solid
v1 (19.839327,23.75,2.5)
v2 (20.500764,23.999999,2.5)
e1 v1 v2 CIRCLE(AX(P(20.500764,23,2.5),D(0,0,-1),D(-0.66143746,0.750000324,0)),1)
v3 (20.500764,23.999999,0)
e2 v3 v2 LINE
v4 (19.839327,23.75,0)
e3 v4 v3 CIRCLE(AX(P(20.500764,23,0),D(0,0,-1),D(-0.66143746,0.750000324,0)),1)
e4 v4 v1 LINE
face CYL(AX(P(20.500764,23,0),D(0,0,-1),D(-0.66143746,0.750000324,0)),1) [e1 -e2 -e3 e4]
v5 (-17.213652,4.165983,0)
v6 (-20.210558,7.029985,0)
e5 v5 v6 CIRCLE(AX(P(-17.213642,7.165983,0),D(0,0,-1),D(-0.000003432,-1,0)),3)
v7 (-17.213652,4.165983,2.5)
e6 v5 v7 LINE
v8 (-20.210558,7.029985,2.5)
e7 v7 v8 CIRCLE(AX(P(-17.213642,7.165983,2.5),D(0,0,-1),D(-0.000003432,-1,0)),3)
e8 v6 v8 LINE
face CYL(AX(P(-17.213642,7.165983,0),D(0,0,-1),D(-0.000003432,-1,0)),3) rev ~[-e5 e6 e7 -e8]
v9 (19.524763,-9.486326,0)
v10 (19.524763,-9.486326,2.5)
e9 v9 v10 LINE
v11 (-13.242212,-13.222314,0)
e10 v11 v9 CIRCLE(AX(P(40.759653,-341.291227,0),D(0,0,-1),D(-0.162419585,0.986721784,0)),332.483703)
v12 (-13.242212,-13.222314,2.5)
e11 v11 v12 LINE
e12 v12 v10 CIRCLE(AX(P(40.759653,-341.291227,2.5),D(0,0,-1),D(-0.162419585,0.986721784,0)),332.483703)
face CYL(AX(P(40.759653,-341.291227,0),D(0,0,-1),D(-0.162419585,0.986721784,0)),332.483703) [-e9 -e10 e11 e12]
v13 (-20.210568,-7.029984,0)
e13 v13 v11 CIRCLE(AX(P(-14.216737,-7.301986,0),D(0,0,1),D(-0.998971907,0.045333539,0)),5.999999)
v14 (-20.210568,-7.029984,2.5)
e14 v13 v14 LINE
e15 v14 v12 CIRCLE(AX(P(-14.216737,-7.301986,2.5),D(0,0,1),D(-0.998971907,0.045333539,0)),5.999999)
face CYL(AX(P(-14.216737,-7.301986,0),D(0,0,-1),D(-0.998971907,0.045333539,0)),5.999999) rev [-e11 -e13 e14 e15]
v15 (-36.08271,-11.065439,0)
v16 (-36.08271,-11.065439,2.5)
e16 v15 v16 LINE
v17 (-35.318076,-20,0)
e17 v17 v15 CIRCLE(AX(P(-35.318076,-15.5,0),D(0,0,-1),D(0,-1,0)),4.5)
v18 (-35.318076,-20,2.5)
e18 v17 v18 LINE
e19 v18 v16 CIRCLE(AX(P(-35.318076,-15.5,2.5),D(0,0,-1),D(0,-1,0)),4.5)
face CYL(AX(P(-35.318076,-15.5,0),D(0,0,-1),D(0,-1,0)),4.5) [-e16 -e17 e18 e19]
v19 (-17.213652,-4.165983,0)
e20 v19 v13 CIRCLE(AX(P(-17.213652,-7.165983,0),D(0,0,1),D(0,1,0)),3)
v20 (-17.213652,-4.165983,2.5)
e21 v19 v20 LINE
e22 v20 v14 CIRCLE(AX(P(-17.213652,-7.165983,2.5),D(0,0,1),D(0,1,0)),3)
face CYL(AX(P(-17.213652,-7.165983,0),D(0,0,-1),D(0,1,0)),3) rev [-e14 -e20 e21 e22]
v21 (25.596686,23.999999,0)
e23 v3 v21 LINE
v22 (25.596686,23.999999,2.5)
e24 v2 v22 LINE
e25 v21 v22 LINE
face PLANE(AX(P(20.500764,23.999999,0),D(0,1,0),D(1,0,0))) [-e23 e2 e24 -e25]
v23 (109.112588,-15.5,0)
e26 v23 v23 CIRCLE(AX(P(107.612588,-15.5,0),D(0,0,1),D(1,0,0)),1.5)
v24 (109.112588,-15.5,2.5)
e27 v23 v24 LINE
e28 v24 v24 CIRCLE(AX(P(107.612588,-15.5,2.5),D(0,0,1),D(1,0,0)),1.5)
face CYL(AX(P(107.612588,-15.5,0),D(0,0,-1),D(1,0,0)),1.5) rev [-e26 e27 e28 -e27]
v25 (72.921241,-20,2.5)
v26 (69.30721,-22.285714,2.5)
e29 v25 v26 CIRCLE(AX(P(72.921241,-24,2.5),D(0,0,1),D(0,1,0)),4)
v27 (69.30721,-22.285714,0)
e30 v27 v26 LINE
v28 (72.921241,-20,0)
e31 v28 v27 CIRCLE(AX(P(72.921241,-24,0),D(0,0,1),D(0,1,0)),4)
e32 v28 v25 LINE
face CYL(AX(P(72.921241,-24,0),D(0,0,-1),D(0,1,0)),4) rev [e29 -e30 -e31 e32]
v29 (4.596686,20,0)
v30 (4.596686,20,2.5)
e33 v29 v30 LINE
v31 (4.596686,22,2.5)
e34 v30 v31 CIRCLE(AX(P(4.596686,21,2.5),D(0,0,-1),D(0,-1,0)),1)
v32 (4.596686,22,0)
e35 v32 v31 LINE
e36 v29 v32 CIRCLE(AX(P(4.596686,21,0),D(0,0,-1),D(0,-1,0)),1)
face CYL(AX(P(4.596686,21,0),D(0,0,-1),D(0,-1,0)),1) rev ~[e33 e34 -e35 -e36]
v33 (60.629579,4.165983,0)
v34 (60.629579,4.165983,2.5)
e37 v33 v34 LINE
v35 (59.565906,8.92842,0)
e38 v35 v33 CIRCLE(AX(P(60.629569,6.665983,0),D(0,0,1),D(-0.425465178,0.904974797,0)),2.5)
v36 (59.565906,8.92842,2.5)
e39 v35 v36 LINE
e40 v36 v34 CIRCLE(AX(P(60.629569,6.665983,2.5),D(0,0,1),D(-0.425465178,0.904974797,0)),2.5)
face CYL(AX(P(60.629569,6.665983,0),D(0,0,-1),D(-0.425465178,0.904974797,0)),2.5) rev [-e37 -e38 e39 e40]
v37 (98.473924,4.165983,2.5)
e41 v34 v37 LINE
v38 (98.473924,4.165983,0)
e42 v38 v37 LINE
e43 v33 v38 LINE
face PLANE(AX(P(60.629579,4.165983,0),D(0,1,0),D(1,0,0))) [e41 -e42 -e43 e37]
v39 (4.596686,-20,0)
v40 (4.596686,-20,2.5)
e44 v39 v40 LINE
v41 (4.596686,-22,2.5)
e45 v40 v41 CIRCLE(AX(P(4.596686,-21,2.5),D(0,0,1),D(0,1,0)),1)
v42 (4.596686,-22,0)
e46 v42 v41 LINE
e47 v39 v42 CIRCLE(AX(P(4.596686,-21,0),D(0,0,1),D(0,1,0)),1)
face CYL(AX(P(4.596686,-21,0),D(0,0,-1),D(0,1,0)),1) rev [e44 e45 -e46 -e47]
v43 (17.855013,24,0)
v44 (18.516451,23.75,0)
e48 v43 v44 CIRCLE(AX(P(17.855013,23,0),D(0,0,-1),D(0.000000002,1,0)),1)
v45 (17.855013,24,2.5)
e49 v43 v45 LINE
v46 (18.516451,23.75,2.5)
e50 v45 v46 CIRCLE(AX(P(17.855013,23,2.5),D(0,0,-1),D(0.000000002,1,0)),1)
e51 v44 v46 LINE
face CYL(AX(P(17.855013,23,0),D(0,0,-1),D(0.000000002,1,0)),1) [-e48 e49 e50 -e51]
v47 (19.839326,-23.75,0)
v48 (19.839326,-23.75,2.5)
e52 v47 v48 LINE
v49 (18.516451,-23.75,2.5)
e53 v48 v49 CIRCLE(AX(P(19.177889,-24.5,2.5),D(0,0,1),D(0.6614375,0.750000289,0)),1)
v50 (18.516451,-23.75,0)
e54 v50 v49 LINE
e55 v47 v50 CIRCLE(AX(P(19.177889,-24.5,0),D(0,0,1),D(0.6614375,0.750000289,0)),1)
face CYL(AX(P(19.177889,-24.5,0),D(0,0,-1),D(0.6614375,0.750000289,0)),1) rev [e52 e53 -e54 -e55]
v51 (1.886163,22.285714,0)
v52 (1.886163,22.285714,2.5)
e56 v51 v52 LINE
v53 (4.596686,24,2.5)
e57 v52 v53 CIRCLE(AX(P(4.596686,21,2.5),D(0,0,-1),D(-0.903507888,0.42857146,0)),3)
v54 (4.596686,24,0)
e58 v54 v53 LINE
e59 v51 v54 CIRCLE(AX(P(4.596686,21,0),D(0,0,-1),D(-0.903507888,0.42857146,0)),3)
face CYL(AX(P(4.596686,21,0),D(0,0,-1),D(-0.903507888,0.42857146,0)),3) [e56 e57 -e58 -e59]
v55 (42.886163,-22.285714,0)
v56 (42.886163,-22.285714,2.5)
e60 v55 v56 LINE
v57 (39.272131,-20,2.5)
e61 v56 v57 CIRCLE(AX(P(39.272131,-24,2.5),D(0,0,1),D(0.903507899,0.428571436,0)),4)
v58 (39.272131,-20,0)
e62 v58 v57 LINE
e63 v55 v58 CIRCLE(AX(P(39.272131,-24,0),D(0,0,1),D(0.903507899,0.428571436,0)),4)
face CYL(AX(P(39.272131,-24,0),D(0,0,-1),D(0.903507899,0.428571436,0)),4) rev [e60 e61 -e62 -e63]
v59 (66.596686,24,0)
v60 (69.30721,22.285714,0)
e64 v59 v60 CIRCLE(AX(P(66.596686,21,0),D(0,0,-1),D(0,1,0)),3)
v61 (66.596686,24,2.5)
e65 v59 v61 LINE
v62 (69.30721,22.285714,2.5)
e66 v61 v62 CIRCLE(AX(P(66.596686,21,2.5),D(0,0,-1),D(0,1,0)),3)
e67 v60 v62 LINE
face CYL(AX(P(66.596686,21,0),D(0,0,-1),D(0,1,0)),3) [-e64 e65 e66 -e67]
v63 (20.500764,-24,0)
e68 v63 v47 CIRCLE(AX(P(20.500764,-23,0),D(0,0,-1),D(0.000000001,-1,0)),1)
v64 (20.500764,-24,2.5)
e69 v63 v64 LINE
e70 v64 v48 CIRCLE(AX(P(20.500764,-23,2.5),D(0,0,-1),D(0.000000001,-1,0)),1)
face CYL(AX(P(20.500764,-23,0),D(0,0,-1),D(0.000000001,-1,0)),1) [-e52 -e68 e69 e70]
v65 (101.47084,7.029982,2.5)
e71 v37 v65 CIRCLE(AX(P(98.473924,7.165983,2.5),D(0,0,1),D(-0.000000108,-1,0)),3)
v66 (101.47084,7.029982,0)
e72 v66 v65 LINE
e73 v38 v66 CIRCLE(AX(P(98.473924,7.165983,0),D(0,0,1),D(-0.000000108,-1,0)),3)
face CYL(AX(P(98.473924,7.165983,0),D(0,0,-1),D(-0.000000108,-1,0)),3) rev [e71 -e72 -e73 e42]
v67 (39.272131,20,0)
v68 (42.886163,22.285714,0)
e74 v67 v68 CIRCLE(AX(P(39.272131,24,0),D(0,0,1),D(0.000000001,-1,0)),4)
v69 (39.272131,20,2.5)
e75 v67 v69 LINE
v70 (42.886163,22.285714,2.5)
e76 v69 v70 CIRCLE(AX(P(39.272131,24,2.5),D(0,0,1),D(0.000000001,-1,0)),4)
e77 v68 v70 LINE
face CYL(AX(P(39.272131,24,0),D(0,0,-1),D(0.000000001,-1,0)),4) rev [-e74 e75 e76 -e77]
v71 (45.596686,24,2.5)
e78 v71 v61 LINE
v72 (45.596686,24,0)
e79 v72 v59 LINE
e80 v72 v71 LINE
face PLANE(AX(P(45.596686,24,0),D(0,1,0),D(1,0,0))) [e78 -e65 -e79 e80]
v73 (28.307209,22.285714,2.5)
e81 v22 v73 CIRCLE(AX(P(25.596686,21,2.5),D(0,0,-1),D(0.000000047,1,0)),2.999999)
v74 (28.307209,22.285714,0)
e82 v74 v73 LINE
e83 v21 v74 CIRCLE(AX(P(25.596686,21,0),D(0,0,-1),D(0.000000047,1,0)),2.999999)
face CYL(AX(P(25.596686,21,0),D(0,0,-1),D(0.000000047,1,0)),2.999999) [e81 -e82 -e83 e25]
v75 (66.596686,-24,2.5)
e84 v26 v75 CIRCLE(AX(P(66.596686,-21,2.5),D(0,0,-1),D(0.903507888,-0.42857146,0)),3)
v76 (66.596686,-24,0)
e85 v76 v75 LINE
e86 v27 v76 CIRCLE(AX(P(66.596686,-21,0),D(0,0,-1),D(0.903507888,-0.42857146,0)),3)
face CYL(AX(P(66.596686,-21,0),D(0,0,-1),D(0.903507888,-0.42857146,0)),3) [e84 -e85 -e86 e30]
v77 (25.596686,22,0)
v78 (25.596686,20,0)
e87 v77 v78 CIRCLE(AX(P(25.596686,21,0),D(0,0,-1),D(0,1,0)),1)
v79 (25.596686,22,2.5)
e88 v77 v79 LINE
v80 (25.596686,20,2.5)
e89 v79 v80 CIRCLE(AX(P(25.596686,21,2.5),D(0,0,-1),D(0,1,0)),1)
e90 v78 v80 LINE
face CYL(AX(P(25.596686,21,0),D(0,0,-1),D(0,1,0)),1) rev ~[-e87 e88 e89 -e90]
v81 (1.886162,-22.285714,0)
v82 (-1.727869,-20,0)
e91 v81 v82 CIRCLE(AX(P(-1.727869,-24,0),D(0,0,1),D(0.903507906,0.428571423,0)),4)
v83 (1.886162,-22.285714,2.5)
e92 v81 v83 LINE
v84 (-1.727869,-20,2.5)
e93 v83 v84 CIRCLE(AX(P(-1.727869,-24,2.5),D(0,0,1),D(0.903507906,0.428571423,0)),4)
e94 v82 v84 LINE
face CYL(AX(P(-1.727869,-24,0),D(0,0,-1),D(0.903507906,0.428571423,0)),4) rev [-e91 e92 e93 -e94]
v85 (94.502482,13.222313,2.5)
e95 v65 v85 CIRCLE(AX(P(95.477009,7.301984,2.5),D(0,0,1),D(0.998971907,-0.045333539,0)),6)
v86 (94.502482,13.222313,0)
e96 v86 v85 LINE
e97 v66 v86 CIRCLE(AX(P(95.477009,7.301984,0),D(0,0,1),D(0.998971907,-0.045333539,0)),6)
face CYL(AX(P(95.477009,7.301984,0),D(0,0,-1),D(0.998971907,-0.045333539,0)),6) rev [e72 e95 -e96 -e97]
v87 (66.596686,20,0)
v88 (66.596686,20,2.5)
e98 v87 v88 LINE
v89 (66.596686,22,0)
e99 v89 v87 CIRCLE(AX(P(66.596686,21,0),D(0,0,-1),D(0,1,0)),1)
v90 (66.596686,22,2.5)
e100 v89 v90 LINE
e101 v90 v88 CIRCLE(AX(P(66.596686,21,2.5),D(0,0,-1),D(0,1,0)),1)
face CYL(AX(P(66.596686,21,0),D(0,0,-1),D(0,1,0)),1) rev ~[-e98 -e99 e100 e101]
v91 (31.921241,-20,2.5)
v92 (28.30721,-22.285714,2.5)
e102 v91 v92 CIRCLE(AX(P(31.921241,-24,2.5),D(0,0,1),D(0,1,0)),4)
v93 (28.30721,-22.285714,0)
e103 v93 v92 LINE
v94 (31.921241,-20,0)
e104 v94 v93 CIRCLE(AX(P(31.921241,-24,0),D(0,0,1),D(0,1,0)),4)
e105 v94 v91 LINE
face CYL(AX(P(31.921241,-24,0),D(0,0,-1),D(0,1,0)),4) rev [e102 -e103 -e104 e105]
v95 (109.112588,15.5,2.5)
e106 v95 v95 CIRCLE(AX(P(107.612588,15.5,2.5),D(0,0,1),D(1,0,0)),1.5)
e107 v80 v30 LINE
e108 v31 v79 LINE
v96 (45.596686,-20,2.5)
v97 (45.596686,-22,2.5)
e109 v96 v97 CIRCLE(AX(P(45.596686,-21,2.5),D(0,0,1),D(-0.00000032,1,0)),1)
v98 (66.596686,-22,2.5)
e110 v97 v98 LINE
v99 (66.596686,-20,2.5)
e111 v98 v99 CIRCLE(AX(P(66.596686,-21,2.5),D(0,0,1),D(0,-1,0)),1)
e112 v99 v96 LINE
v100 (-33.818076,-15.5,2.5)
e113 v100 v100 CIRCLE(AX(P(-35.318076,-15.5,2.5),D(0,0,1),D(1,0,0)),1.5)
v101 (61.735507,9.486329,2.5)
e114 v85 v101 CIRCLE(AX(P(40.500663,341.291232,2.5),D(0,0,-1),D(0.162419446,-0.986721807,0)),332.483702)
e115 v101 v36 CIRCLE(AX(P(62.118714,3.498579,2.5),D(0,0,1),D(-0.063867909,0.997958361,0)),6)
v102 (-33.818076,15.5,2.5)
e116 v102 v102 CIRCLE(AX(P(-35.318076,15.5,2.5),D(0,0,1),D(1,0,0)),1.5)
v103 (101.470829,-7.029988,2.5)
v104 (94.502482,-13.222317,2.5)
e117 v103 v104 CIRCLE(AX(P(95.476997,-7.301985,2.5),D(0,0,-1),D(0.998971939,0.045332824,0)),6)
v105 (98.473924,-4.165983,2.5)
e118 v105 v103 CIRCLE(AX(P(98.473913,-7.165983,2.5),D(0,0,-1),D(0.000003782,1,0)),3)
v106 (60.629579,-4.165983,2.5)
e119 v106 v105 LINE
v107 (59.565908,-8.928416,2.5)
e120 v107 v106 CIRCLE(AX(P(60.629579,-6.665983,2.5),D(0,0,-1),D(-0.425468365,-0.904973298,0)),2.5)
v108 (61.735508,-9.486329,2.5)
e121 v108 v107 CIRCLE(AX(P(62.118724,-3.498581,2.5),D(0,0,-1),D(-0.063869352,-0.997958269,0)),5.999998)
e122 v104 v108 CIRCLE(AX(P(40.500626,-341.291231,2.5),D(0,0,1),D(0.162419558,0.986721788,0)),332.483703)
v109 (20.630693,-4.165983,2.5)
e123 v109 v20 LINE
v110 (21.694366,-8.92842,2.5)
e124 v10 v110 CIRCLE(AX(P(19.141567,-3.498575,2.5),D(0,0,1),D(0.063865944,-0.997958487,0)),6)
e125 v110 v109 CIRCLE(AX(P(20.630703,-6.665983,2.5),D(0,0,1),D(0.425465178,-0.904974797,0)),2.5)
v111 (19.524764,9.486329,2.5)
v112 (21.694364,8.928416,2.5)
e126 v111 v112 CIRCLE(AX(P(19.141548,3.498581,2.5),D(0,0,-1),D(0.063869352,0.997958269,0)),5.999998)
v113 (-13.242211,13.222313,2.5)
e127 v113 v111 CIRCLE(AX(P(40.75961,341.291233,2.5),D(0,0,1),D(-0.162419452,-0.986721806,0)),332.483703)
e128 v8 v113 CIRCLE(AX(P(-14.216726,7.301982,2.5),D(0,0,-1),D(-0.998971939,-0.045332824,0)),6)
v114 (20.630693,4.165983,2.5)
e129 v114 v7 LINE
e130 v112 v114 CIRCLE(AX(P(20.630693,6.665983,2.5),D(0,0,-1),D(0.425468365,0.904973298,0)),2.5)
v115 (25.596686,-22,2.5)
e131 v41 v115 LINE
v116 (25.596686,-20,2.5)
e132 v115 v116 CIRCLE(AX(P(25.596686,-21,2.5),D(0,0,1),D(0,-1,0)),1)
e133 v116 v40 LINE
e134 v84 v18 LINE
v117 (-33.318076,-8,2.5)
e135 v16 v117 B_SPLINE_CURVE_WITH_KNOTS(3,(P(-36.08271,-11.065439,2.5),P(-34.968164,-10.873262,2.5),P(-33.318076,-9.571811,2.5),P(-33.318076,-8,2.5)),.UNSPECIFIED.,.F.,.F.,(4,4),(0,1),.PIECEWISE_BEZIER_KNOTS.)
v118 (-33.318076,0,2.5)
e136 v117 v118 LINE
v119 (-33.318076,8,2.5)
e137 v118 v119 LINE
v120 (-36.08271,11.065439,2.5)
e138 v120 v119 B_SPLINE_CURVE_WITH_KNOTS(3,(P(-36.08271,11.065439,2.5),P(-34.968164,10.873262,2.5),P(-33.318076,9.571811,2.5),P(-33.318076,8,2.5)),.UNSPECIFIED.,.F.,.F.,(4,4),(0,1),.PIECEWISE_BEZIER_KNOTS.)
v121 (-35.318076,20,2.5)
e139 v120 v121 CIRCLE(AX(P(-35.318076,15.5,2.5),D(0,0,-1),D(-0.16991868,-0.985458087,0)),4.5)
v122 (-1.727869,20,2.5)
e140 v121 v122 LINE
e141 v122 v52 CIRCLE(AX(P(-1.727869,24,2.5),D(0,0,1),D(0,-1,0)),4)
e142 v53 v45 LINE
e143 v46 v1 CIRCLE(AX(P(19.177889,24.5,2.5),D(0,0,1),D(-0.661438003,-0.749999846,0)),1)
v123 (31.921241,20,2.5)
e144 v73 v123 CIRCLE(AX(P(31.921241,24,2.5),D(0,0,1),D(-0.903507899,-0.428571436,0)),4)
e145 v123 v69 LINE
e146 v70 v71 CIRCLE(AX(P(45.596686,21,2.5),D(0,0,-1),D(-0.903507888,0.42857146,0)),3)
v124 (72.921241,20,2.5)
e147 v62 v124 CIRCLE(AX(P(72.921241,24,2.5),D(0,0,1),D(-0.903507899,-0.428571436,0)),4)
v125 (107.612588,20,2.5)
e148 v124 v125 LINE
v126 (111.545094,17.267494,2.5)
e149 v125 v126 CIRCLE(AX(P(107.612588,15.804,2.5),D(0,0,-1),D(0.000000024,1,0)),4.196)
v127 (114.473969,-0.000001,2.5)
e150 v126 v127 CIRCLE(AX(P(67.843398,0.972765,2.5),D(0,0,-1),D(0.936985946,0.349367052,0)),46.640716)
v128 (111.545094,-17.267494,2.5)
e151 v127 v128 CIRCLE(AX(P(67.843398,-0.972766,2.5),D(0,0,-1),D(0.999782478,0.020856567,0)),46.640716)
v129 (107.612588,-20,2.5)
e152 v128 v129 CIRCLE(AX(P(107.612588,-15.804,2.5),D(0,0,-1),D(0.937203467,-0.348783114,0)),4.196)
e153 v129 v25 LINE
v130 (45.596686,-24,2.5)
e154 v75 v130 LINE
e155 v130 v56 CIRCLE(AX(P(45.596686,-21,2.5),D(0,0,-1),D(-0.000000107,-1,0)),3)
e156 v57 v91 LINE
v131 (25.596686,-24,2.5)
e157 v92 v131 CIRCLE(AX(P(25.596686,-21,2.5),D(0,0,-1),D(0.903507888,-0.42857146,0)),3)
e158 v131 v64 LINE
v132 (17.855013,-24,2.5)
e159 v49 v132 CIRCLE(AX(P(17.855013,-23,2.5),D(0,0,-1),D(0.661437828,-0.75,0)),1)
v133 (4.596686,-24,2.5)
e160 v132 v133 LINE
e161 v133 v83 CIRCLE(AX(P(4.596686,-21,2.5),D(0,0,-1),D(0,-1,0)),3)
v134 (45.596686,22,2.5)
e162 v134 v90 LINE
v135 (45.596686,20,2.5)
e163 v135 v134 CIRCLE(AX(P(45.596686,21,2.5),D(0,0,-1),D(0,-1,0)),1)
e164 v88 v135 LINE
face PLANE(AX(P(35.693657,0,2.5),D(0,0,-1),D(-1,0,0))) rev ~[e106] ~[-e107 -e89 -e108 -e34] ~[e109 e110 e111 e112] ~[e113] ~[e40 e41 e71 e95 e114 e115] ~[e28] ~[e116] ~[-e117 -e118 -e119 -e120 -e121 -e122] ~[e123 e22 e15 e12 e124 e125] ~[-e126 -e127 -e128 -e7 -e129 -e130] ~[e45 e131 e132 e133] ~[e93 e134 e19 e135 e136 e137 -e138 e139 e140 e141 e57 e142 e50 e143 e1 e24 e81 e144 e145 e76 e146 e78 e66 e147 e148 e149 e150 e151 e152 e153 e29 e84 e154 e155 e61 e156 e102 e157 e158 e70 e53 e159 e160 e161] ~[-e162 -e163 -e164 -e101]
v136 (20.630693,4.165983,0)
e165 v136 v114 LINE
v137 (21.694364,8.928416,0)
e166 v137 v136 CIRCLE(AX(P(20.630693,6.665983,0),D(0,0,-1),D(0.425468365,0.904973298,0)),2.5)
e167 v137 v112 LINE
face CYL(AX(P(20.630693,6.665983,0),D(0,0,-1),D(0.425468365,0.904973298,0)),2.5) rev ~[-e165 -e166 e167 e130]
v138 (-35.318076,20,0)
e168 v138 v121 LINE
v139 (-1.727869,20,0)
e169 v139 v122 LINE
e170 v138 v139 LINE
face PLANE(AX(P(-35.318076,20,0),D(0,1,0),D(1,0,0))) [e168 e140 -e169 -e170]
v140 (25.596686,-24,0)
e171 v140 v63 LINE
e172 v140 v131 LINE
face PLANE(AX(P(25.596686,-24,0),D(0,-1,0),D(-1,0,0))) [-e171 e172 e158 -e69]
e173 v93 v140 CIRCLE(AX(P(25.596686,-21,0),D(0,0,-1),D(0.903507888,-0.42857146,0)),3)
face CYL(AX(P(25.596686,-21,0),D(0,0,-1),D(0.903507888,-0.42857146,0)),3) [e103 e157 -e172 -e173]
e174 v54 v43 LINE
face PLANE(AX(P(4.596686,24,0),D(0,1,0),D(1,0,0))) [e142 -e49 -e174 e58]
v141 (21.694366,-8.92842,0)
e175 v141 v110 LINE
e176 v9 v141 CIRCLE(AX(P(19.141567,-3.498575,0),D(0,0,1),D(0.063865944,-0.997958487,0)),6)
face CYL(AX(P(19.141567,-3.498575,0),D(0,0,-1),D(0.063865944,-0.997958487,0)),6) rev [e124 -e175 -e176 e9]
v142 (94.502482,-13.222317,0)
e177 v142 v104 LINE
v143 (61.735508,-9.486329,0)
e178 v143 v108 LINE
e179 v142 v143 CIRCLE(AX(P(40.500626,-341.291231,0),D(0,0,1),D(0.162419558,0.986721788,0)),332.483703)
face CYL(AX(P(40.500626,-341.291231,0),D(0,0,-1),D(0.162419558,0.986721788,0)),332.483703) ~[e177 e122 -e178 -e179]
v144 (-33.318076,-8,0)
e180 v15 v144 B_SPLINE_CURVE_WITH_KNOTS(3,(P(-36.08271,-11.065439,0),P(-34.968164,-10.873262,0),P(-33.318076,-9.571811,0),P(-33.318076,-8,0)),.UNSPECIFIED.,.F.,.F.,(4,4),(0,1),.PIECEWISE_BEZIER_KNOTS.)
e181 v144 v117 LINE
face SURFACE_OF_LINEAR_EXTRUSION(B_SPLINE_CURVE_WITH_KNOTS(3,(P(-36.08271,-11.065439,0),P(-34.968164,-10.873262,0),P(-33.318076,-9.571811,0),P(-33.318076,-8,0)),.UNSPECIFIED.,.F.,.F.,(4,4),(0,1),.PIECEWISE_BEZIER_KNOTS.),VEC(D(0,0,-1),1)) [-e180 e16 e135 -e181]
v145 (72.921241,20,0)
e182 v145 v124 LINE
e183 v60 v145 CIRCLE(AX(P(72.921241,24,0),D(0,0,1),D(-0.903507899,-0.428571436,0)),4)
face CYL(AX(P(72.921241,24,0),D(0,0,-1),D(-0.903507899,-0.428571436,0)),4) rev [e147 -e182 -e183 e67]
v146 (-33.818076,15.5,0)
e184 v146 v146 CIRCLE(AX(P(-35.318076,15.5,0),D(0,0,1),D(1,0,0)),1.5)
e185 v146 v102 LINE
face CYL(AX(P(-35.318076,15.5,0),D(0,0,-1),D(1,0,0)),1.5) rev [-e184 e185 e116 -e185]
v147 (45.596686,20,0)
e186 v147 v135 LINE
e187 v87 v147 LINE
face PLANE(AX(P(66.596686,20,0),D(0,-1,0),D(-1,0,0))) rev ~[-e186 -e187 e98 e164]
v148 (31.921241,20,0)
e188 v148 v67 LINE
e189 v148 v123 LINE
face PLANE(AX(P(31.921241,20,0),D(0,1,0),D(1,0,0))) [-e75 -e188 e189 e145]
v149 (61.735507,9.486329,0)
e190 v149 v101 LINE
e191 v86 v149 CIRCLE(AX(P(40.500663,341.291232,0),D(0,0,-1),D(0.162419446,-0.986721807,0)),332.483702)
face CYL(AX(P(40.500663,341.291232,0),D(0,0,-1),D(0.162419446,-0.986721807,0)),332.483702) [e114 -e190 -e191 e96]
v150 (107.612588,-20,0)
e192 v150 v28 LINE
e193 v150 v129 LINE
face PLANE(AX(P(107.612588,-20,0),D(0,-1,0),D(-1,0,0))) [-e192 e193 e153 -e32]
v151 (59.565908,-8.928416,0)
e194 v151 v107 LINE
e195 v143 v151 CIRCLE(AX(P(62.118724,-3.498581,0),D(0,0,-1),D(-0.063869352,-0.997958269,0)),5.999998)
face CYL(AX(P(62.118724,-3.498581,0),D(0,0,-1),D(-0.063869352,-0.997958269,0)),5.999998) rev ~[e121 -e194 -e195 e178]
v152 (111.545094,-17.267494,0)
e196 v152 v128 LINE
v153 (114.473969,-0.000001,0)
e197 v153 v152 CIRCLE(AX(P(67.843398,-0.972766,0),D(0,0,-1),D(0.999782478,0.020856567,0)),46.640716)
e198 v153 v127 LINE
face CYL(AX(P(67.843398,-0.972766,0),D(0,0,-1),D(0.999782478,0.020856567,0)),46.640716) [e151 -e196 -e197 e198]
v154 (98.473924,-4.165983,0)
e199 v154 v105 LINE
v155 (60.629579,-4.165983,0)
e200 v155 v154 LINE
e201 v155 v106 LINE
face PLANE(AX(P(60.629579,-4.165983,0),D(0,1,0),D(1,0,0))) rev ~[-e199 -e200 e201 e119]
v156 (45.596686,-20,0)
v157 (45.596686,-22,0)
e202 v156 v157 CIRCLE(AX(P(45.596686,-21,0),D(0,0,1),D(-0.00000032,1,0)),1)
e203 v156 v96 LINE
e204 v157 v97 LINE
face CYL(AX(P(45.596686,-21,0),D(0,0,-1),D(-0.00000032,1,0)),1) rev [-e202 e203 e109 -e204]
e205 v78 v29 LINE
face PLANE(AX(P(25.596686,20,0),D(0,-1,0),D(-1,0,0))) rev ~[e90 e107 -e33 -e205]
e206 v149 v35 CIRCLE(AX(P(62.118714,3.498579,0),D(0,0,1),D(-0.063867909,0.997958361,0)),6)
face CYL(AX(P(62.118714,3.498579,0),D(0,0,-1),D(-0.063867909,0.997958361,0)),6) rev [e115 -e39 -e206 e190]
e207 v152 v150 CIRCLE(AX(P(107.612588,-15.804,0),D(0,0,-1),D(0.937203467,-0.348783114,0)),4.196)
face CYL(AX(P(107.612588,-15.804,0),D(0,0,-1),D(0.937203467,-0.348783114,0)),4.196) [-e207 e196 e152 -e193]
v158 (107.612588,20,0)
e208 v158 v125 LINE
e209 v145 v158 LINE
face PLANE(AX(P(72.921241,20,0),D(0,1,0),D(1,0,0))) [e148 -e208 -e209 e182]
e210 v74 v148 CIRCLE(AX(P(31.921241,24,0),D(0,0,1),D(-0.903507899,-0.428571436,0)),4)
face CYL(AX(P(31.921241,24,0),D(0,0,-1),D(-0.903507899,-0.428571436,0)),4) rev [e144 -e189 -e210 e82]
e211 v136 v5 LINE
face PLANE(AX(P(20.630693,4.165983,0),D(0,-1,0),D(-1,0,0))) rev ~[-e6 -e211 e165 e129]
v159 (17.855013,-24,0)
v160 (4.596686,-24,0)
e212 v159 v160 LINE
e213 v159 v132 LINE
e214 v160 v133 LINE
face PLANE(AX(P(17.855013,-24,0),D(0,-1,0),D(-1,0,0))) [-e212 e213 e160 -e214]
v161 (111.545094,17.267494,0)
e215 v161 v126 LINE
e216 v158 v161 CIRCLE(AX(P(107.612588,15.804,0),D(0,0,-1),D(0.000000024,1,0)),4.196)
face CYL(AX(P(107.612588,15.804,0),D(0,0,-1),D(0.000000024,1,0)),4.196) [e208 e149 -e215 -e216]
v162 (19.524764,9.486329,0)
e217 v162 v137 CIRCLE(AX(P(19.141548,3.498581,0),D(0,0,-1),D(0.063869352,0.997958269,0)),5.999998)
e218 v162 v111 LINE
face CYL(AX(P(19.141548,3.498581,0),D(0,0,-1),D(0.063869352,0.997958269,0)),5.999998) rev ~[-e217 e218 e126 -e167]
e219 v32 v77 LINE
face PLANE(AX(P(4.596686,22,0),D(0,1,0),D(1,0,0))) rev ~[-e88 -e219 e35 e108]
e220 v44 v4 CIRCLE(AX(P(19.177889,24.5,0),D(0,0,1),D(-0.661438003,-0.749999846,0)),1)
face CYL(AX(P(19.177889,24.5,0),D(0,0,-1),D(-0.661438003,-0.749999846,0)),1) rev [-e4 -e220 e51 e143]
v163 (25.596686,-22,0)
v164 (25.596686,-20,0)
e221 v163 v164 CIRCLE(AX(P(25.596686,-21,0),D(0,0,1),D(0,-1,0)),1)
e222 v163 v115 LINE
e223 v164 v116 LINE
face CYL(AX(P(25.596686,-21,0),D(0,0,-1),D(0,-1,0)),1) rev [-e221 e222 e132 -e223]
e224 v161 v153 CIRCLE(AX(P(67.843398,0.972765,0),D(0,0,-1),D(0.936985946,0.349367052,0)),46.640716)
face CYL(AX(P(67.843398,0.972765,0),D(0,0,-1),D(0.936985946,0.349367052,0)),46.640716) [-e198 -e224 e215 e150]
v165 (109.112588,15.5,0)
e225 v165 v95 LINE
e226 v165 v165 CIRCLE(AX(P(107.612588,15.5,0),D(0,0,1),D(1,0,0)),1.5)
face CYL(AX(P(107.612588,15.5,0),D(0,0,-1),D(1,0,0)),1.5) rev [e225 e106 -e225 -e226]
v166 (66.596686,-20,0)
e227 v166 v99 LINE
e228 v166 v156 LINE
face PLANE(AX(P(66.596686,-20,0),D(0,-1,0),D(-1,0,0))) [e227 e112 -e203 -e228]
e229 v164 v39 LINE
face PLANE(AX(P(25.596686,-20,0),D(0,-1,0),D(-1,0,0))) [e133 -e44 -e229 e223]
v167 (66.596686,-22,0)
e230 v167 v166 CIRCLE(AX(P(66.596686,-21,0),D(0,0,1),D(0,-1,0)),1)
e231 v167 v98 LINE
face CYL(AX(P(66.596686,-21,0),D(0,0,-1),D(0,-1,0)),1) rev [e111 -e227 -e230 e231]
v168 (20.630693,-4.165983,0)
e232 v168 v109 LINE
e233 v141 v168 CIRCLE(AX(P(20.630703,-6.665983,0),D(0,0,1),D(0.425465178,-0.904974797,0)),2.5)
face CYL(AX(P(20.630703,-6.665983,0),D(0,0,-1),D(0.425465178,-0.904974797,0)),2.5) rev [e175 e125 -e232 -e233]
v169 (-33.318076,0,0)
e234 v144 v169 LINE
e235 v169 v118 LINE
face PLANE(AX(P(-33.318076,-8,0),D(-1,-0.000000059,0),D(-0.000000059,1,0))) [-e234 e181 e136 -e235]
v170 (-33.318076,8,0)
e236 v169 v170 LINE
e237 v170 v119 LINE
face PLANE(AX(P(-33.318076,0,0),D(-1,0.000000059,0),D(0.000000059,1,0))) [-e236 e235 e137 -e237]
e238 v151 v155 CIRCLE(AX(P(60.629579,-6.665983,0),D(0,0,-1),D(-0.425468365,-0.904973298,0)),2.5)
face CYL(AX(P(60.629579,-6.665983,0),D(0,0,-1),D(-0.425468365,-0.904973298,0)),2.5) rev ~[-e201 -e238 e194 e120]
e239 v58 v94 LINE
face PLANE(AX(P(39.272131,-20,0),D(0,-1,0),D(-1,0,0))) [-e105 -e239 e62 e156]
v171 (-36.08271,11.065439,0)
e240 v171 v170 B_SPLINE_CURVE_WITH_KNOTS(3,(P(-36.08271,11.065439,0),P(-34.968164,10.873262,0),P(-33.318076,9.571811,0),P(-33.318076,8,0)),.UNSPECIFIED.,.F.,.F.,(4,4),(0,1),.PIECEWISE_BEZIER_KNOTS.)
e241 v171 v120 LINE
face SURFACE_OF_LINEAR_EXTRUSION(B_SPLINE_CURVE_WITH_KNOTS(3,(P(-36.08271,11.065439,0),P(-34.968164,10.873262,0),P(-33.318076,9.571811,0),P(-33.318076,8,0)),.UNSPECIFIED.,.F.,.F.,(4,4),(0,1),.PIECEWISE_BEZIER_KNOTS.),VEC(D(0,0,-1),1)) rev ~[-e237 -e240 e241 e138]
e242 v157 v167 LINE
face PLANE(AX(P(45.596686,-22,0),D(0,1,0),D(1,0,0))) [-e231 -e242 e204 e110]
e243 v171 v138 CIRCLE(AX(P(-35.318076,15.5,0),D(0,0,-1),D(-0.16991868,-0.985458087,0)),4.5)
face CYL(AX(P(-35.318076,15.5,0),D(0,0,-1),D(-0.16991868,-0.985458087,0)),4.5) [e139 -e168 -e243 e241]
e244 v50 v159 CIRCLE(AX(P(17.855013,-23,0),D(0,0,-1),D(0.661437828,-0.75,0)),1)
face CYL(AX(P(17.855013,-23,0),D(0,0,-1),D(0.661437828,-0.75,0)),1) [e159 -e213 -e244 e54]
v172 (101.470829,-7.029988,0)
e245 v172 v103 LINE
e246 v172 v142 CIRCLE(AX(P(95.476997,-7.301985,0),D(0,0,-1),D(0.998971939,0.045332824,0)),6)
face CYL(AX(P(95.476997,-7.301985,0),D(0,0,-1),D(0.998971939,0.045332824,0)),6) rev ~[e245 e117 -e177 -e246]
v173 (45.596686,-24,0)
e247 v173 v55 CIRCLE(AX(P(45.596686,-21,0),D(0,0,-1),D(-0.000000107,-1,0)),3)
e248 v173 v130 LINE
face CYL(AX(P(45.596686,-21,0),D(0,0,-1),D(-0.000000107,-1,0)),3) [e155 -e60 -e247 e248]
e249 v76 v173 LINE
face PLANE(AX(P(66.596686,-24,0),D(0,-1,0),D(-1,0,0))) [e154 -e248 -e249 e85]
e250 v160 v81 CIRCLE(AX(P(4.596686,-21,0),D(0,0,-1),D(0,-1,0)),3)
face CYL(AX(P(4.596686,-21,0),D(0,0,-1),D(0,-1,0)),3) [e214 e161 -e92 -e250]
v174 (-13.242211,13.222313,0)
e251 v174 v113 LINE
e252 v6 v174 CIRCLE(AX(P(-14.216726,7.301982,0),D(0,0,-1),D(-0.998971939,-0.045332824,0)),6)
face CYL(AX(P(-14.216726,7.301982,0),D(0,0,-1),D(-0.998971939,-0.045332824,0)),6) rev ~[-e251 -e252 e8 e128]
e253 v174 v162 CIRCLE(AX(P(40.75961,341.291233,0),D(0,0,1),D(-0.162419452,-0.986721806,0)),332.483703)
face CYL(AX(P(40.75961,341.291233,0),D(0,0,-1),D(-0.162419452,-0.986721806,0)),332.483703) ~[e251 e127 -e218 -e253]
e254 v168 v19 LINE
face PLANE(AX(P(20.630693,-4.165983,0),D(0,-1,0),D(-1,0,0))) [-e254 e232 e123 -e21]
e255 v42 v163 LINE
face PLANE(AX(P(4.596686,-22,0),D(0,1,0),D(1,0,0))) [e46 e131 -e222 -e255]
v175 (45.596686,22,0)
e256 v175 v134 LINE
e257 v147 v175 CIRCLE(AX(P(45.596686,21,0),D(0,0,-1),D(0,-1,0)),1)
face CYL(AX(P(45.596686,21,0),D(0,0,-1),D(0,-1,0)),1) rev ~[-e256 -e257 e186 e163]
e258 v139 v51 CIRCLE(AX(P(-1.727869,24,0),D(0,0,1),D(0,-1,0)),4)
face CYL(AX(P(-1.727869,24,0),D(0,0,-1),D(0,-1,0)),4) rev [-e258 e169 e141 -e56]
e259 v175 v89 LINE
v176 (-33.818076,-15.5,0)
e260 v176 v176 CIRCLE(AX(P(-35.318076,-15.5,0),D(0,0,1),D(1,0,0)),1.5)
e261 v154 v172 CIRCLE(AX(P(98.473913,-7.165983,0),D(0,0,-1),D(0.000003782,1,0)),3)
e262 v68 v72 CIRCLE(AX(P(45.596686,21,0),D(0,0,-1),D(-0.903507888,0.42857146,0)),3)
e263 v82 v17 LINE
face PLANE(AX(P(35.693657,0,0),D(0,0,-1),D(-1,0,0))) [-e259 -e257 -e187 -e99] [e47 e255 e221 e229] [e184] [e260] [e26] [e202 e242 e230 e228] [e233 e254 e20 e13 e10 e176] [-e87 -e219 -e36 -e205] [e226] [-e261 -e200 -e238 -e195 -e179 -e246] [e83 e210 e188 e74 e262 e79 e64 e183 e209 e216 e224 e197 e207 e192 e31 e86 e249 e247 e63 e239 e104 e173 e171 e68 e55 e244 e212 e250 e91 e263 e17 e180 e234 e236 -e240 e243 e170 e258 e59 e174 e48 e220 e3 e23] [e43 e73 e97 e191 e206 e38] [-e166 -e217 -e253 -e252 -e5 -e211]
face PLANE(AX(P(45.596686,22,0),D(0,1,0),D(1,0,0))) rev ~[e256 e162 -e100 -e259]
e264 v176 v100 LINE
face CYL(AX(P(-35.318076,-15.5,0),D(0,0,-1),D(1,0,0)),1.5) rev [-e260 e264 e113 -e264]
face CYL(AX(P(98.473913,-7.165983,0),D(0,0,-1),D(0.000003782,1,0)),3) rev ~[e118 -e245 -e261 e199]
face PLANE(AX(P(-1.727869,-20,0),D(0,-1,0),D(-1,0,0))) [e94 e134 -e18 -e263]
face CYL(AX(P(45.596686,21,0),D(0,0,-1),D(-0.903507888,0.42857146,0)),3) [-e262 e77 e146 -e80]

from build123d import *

# Parameters (mm, degrees)
CROQUIS1_R              = 1.5
SALIENTE_EXTRUIR1_DEPTH = 2.5


with BuildPart() as part:
    # Croquis1 → Saliente-Extruir1 (new body)
    with BuildSketch(Plane.XY):
        with BuildLine():
            Line((-1.727869, -20), (-35.318076, -20))
            ThreePointArc((-35.318076, -20), (-39.801686502, -15.883714562), (-36.082710062, -11.065438607))
            add(Edge.make_bspline(
                [(-36.082710062, -11.065438607), (-34.968163592, -10.873261807), (-33.318075526, -9.571810644), (-33.318075526, -8.000000003)],
                knots=[0, 0, 0, 0, 1, 1, 1, 1], degree=3))
            Line((-33.318075526, -8.000000003), (-33.318076, 0))
            Line((-33.318076, 0), (-33.318075526, 7.999999997))
            add(Edge.make_bspline(
                [(-36.082710062, 11.065438607), (-34.968163592, 10.873261801), (-33.318075526, 9.571810638), (-33.318075526, 7.999999997)],
                knots=[0, 0, 0, 0, 1, 1, 1, 1], degree=3))
            ThreePointArc((-36.082710062, 11.065438607), (-39.801686502, 15.883714562), (-35.318076, 20))
            Line((-35.318076, 20), (-1.727869, 20))
            ThreePointArc((-1.727869, 20), (0.410220921, 20.619382972), (1.886162597, 22.285714256))
            ThreePointArc((1.886162597, 22.285714256), (2.993118801, 23.535462608), (4.596686131, 23.999999793))
            Line((4.596686131, 23.999999793), (17.855013131, 23.999999793))
            ThreePointArc((17.855013131, 23.999999793), (18.20856652, 23.93541414), (18.516450957, 23.749999795))
            ThreePointArc((18.516450957, 23.749999795), (19.177888957, 23.499999641), (19.839326957, 23.749999792))
            ThreePointArc((19.839326957, 23.749999792), (20.147211189, 23.935413861), (20.500764274, 23.999999414))
            Line((20.500764274, 23.999999414), (25.596686274, 23.999999414))
            ThreePointArc((25.596686274, 23.999999414), (27.200253319, 23.535462249), (28.307209321, 22.285714093))
            ThreePointArc((28.307209321, 22.285714093), (29.783150997, 20.61938281), (31.921240919, 19.999999837))
            Line((31.921240919, 19.999999837), (39.272130919, 19.999999837))
            ThreePointArc((39.272130919, 19.999999837), (41.41022084, 20.61938281), (42.886162516, 22.285714093))
            ThreePointArc((42.886162516, 22.285714093), (43.993118719, 23.535462445), (45.596686049, 23.999999631))
            Line((45.596686049, 23.999999631), (66.596686049, 23.999999631))
            ThreePointArc((66.596686049, 23.999999631), (68.20025338, 23.535462445), (69.307209583, 22.285714093))
            ThreePointArc((69.307209583, 22.285714093), (70.783151259, 20.61938281), (72.92124118, 19.999999837))
            Line((72.92124118, 19.999999837), (107.61258818, 19.999999837))
            ThreePointArc((107.61258818, 19.999999837), (110.006914096, 19.249811631), (111.545093682, 17.267494173))
            ThreePointArc((111.545093682, 17.267494173), (113.827321184, 8.772458491), (114.473968889, -7.06e-07))
            ThreePointArc((114.473968889, -7.06e-07), (113.827321261, -8.772459139), (111.545094118, -17.267494122))
            ThreePointArc((111.545094118, -17.267494122), (110.006914516, -19.249811879), (107.612588369, -20.000000175))
            Line((107.612588369, -20.000000175), (72.921241369, -20.000000175))
            ThreePointArc((72.921241369, -20.000000175), (70.783151447, -20.619383147), (69.307209771, -22.285714431))
            ThreePointArc((69.307209771, -22.285714431), (68.200253515, -23.535462843), (66.596686107, -24.000000051))
            Line((66.596686107, -24.000000051), (45.596686107, -24.000000051))
            ThreePointArc((45.596686107, -24.000000051), (43.993118827, -23.535462721), (42.886162705, -22.285714307))
            ThreePointArc((42.886162705, -22.285714307), (41.410221028, -20.619383023), (39.272131107, -20.000000051))
            Line((39.272131107, -20.000000051), (31.921241107, -20.000000051))
            ThreePointArc((31.921241107, -20.000000051), (29.783151186, -20.619383023), (28.30720951, -22.285714307))
            ThreePointArc((28.30720951, -22.285714307), (27.200253316, -23.535462648), (25.596686, -23.999999829))
            Line((25.596686, -23.999999829), (20.500764, -23.999999829))
            ThreePointArc((20.500764, -23.999999829), (20.14721061, -23.935414176), (19.839326174, -23.74999983))
            ThreePointArc((19.839326174, -23.74999983), (19.177888468, -23.50000009), (18.516450826, -23.750000001))
            ThreePointArc((18.516450826, -23.750000001), (18.20856639, -23.935414347), (17.855013, -24))
            Line((17.855013, -24), (4.596686, -24))
            ThreePointArc((4.596686, -24), (2.993118559, -23.535462771), (1.886162302, -22.285714308))
            ThreePointArc((1.886162302, -22.285714308), (0.410220761, -20.619383073), (-1.727869, -20))
        make_face()
        with Locations((107.612588, -15.5)):
            Circle(CROQUIS1_R, mode=Mode.SUBTRACT)
        with Locations((-35.318076, -15.5)):
            Circle(CROQUIS1_R, mode=Mode.SUBTRACT)
        with Locations((-35.318076, 15.5)):
            Circle(CROQUIS1_R, mode=Mode.SUBTRACT)
        with Locations((107.612588, 15.5)):
            Circle(CROQUIS1_R, mode=Mode.SUBTRACT)
        with BuildLine():
            Line((66.596686049, 19.999999775), (45.596686049, 19.999999775))
            ThreePointArc((45.596686049, 19.999999775), (44.596686049, 20.999999775), (45.596686049, 21.999999775))
            Line((45.596686049, 21.999999775), (66.596686049, 21.999999775))
            ThreePointArc((66.596686049, 21.999999775), (67.596686049, 20.999999775), (66.596686049, 19.999999775))
        make_face(mode=Mode.SUBTRACT)
        with BuildLine():
            Line((4.596686131, 21.999999938), (25.596686131, 21.999999938))
            ThreePointArc((25.596686131, 21.999999938), (26.596686131, 20.999999938), (25.596686131, 19.999999938))
            Line((25.596686131, 19.999999938), (4.596686131, 19.999999938))
            ThreePointArc((4.596686131, 19.999999938), (3.596686131, 20.999999938), (4.596686131, 21.999999938))
        make_face(mode=Mode.SUBTRACT)
        with BuildLine():
            Line((60.629579, -4.165983), (98.473924, -4.165983))
            ThreePointArc((98.473924, -4.165983), (100.546598144, -4.997118122), (101.470828647, -7.029988427))
            ThreePointArc((101.470828647, -7.029988427), (99.46254802, -11.787003007), (94.502482097, -13.222316504))
            ThreePointArc((94.502482097, -13.222316504), (78.165345659, -10.947800594), (61.735508446, -9.48632916))
            ThreePointArc((61.735508446, -9.48632916), (60.624439263, -9.309527068), (59.565908087, -8.928416245))
            ThreePointArc((59.565908087, -8.928416245), (58.189693438, -6.121044064), (60.629579, -4.165983))
        make_face(mode=Mode.SUBTRACT)
        with BuildLine():
            Line((25.596686, -20), (4.596686, -20))
            ThreePointArc((4.596686, -20), (3.596686, -21), (4.596686, -22))
            Line((4.596686, -22), (25.596686, -22))
            ThreePointArc((25.596686, -22), (26.596686, -21), (25.596686, -20))
        make_face(mode=Mode.SUBTRACT)
        with BuildLine():
            Line((66.596686107, -20.000000051), (45.596686107, -20.000000051))
            ThreePointArc((45.596686107, -20.000000051), (44.596686427, -21.000000051), (45.596686107, -22.000000051))
            Line((45.596686107, -22.000000051), (66.596686107, -22.000000051))
            ThreePointArc((66.596686107, -22.000000051), (67.596686107, -21.000000051), (66.596686107, -20.000000051))
        make_face(mode=Mode.SUBTRACT)
        with BuildLine():
            Line((20.630693, -4.165983), (-17.213652, -4.165983))
            ThreePointArc((-17.213652, -4.165983), (-19.286331958, -4.997112835), (-20.210567815, -7.029984473))
            ThreePointArc((-20.210567815, -7.029984473), (-18.202285238, -11.787004738), (-13.242211847, -13.222314))
            ThreePointArc((-13.242211847, -13.222314), (3.094925006, -10.947797585), (19.524762662, -9.486325691))
            ThreePointArc((19.524762662, -9.486325691), (20.635832812, -9.309527332), (21.694365632, -8.928419991))
            ThreePointArc((21.694365632, -8.928419991), (23.070588154, -6.121043634), (20.630693, -4.165983))
        make_face(mode=Mode.SUBTRACT)
        with BuildLine():
            Line((60.629579, 4.165983), (98.473924, 4.165983))
            ThreePointArc((98.473924, 4.165983), (100.546603429, 4.997112019), (101.470840047, 7.029982437))
            ThreePointArc((101.470840047, 7.029982437), (99.462556799, 11.787003808), (94.502482022, 13.222312881))
            ThreePointArc((94.502482022, 13.222312881), (78.165344631, 10.947798744), (61.735506549, 9.486329166))
            ThreePointArc((61.735506549, 9.486329166), (60.624437652, 9.309528853), (59.565906368, 8.928419991))
            ThreePointArc((59.565906368, 8.928419991), (58.189683846, 6.121043634), (60.629579, 4.165983))
        make_face(mode=Mode.SUBTRACT)
        with BuildLine():
            Line((20.630693, 4.165983), (-17.213652, 4.165983))
            ThreePointArc((-17.213652, 4.165983), (-19.286325559, 4.99711656), (-20.210557539, 7.029984958))
            ThreePointArc((-20.210557539, 7.029984958), (-18.202276912, 11.786999538), (-13.242210989, 13.222313035))
            ThreePointArc((-13.242210989, 13.222313035), (3.094925937, 10.947798842), (19.524763554, 9.48632916))
            ThreePointArc((19.524763554, 9.48632916), (20.635832737, 9.309527068), (21.694363913, 8.928416245))
            ThreePointArc((21.694363913, 8.928416245), (23.070578562, 6.121044064), (20.630693, 4.165983))
        make_face(mode=Mode.SUBTRACT)
    extrude(amount=SALIENTE_EXTRUIR1_DEPTH)


solid = part.part
